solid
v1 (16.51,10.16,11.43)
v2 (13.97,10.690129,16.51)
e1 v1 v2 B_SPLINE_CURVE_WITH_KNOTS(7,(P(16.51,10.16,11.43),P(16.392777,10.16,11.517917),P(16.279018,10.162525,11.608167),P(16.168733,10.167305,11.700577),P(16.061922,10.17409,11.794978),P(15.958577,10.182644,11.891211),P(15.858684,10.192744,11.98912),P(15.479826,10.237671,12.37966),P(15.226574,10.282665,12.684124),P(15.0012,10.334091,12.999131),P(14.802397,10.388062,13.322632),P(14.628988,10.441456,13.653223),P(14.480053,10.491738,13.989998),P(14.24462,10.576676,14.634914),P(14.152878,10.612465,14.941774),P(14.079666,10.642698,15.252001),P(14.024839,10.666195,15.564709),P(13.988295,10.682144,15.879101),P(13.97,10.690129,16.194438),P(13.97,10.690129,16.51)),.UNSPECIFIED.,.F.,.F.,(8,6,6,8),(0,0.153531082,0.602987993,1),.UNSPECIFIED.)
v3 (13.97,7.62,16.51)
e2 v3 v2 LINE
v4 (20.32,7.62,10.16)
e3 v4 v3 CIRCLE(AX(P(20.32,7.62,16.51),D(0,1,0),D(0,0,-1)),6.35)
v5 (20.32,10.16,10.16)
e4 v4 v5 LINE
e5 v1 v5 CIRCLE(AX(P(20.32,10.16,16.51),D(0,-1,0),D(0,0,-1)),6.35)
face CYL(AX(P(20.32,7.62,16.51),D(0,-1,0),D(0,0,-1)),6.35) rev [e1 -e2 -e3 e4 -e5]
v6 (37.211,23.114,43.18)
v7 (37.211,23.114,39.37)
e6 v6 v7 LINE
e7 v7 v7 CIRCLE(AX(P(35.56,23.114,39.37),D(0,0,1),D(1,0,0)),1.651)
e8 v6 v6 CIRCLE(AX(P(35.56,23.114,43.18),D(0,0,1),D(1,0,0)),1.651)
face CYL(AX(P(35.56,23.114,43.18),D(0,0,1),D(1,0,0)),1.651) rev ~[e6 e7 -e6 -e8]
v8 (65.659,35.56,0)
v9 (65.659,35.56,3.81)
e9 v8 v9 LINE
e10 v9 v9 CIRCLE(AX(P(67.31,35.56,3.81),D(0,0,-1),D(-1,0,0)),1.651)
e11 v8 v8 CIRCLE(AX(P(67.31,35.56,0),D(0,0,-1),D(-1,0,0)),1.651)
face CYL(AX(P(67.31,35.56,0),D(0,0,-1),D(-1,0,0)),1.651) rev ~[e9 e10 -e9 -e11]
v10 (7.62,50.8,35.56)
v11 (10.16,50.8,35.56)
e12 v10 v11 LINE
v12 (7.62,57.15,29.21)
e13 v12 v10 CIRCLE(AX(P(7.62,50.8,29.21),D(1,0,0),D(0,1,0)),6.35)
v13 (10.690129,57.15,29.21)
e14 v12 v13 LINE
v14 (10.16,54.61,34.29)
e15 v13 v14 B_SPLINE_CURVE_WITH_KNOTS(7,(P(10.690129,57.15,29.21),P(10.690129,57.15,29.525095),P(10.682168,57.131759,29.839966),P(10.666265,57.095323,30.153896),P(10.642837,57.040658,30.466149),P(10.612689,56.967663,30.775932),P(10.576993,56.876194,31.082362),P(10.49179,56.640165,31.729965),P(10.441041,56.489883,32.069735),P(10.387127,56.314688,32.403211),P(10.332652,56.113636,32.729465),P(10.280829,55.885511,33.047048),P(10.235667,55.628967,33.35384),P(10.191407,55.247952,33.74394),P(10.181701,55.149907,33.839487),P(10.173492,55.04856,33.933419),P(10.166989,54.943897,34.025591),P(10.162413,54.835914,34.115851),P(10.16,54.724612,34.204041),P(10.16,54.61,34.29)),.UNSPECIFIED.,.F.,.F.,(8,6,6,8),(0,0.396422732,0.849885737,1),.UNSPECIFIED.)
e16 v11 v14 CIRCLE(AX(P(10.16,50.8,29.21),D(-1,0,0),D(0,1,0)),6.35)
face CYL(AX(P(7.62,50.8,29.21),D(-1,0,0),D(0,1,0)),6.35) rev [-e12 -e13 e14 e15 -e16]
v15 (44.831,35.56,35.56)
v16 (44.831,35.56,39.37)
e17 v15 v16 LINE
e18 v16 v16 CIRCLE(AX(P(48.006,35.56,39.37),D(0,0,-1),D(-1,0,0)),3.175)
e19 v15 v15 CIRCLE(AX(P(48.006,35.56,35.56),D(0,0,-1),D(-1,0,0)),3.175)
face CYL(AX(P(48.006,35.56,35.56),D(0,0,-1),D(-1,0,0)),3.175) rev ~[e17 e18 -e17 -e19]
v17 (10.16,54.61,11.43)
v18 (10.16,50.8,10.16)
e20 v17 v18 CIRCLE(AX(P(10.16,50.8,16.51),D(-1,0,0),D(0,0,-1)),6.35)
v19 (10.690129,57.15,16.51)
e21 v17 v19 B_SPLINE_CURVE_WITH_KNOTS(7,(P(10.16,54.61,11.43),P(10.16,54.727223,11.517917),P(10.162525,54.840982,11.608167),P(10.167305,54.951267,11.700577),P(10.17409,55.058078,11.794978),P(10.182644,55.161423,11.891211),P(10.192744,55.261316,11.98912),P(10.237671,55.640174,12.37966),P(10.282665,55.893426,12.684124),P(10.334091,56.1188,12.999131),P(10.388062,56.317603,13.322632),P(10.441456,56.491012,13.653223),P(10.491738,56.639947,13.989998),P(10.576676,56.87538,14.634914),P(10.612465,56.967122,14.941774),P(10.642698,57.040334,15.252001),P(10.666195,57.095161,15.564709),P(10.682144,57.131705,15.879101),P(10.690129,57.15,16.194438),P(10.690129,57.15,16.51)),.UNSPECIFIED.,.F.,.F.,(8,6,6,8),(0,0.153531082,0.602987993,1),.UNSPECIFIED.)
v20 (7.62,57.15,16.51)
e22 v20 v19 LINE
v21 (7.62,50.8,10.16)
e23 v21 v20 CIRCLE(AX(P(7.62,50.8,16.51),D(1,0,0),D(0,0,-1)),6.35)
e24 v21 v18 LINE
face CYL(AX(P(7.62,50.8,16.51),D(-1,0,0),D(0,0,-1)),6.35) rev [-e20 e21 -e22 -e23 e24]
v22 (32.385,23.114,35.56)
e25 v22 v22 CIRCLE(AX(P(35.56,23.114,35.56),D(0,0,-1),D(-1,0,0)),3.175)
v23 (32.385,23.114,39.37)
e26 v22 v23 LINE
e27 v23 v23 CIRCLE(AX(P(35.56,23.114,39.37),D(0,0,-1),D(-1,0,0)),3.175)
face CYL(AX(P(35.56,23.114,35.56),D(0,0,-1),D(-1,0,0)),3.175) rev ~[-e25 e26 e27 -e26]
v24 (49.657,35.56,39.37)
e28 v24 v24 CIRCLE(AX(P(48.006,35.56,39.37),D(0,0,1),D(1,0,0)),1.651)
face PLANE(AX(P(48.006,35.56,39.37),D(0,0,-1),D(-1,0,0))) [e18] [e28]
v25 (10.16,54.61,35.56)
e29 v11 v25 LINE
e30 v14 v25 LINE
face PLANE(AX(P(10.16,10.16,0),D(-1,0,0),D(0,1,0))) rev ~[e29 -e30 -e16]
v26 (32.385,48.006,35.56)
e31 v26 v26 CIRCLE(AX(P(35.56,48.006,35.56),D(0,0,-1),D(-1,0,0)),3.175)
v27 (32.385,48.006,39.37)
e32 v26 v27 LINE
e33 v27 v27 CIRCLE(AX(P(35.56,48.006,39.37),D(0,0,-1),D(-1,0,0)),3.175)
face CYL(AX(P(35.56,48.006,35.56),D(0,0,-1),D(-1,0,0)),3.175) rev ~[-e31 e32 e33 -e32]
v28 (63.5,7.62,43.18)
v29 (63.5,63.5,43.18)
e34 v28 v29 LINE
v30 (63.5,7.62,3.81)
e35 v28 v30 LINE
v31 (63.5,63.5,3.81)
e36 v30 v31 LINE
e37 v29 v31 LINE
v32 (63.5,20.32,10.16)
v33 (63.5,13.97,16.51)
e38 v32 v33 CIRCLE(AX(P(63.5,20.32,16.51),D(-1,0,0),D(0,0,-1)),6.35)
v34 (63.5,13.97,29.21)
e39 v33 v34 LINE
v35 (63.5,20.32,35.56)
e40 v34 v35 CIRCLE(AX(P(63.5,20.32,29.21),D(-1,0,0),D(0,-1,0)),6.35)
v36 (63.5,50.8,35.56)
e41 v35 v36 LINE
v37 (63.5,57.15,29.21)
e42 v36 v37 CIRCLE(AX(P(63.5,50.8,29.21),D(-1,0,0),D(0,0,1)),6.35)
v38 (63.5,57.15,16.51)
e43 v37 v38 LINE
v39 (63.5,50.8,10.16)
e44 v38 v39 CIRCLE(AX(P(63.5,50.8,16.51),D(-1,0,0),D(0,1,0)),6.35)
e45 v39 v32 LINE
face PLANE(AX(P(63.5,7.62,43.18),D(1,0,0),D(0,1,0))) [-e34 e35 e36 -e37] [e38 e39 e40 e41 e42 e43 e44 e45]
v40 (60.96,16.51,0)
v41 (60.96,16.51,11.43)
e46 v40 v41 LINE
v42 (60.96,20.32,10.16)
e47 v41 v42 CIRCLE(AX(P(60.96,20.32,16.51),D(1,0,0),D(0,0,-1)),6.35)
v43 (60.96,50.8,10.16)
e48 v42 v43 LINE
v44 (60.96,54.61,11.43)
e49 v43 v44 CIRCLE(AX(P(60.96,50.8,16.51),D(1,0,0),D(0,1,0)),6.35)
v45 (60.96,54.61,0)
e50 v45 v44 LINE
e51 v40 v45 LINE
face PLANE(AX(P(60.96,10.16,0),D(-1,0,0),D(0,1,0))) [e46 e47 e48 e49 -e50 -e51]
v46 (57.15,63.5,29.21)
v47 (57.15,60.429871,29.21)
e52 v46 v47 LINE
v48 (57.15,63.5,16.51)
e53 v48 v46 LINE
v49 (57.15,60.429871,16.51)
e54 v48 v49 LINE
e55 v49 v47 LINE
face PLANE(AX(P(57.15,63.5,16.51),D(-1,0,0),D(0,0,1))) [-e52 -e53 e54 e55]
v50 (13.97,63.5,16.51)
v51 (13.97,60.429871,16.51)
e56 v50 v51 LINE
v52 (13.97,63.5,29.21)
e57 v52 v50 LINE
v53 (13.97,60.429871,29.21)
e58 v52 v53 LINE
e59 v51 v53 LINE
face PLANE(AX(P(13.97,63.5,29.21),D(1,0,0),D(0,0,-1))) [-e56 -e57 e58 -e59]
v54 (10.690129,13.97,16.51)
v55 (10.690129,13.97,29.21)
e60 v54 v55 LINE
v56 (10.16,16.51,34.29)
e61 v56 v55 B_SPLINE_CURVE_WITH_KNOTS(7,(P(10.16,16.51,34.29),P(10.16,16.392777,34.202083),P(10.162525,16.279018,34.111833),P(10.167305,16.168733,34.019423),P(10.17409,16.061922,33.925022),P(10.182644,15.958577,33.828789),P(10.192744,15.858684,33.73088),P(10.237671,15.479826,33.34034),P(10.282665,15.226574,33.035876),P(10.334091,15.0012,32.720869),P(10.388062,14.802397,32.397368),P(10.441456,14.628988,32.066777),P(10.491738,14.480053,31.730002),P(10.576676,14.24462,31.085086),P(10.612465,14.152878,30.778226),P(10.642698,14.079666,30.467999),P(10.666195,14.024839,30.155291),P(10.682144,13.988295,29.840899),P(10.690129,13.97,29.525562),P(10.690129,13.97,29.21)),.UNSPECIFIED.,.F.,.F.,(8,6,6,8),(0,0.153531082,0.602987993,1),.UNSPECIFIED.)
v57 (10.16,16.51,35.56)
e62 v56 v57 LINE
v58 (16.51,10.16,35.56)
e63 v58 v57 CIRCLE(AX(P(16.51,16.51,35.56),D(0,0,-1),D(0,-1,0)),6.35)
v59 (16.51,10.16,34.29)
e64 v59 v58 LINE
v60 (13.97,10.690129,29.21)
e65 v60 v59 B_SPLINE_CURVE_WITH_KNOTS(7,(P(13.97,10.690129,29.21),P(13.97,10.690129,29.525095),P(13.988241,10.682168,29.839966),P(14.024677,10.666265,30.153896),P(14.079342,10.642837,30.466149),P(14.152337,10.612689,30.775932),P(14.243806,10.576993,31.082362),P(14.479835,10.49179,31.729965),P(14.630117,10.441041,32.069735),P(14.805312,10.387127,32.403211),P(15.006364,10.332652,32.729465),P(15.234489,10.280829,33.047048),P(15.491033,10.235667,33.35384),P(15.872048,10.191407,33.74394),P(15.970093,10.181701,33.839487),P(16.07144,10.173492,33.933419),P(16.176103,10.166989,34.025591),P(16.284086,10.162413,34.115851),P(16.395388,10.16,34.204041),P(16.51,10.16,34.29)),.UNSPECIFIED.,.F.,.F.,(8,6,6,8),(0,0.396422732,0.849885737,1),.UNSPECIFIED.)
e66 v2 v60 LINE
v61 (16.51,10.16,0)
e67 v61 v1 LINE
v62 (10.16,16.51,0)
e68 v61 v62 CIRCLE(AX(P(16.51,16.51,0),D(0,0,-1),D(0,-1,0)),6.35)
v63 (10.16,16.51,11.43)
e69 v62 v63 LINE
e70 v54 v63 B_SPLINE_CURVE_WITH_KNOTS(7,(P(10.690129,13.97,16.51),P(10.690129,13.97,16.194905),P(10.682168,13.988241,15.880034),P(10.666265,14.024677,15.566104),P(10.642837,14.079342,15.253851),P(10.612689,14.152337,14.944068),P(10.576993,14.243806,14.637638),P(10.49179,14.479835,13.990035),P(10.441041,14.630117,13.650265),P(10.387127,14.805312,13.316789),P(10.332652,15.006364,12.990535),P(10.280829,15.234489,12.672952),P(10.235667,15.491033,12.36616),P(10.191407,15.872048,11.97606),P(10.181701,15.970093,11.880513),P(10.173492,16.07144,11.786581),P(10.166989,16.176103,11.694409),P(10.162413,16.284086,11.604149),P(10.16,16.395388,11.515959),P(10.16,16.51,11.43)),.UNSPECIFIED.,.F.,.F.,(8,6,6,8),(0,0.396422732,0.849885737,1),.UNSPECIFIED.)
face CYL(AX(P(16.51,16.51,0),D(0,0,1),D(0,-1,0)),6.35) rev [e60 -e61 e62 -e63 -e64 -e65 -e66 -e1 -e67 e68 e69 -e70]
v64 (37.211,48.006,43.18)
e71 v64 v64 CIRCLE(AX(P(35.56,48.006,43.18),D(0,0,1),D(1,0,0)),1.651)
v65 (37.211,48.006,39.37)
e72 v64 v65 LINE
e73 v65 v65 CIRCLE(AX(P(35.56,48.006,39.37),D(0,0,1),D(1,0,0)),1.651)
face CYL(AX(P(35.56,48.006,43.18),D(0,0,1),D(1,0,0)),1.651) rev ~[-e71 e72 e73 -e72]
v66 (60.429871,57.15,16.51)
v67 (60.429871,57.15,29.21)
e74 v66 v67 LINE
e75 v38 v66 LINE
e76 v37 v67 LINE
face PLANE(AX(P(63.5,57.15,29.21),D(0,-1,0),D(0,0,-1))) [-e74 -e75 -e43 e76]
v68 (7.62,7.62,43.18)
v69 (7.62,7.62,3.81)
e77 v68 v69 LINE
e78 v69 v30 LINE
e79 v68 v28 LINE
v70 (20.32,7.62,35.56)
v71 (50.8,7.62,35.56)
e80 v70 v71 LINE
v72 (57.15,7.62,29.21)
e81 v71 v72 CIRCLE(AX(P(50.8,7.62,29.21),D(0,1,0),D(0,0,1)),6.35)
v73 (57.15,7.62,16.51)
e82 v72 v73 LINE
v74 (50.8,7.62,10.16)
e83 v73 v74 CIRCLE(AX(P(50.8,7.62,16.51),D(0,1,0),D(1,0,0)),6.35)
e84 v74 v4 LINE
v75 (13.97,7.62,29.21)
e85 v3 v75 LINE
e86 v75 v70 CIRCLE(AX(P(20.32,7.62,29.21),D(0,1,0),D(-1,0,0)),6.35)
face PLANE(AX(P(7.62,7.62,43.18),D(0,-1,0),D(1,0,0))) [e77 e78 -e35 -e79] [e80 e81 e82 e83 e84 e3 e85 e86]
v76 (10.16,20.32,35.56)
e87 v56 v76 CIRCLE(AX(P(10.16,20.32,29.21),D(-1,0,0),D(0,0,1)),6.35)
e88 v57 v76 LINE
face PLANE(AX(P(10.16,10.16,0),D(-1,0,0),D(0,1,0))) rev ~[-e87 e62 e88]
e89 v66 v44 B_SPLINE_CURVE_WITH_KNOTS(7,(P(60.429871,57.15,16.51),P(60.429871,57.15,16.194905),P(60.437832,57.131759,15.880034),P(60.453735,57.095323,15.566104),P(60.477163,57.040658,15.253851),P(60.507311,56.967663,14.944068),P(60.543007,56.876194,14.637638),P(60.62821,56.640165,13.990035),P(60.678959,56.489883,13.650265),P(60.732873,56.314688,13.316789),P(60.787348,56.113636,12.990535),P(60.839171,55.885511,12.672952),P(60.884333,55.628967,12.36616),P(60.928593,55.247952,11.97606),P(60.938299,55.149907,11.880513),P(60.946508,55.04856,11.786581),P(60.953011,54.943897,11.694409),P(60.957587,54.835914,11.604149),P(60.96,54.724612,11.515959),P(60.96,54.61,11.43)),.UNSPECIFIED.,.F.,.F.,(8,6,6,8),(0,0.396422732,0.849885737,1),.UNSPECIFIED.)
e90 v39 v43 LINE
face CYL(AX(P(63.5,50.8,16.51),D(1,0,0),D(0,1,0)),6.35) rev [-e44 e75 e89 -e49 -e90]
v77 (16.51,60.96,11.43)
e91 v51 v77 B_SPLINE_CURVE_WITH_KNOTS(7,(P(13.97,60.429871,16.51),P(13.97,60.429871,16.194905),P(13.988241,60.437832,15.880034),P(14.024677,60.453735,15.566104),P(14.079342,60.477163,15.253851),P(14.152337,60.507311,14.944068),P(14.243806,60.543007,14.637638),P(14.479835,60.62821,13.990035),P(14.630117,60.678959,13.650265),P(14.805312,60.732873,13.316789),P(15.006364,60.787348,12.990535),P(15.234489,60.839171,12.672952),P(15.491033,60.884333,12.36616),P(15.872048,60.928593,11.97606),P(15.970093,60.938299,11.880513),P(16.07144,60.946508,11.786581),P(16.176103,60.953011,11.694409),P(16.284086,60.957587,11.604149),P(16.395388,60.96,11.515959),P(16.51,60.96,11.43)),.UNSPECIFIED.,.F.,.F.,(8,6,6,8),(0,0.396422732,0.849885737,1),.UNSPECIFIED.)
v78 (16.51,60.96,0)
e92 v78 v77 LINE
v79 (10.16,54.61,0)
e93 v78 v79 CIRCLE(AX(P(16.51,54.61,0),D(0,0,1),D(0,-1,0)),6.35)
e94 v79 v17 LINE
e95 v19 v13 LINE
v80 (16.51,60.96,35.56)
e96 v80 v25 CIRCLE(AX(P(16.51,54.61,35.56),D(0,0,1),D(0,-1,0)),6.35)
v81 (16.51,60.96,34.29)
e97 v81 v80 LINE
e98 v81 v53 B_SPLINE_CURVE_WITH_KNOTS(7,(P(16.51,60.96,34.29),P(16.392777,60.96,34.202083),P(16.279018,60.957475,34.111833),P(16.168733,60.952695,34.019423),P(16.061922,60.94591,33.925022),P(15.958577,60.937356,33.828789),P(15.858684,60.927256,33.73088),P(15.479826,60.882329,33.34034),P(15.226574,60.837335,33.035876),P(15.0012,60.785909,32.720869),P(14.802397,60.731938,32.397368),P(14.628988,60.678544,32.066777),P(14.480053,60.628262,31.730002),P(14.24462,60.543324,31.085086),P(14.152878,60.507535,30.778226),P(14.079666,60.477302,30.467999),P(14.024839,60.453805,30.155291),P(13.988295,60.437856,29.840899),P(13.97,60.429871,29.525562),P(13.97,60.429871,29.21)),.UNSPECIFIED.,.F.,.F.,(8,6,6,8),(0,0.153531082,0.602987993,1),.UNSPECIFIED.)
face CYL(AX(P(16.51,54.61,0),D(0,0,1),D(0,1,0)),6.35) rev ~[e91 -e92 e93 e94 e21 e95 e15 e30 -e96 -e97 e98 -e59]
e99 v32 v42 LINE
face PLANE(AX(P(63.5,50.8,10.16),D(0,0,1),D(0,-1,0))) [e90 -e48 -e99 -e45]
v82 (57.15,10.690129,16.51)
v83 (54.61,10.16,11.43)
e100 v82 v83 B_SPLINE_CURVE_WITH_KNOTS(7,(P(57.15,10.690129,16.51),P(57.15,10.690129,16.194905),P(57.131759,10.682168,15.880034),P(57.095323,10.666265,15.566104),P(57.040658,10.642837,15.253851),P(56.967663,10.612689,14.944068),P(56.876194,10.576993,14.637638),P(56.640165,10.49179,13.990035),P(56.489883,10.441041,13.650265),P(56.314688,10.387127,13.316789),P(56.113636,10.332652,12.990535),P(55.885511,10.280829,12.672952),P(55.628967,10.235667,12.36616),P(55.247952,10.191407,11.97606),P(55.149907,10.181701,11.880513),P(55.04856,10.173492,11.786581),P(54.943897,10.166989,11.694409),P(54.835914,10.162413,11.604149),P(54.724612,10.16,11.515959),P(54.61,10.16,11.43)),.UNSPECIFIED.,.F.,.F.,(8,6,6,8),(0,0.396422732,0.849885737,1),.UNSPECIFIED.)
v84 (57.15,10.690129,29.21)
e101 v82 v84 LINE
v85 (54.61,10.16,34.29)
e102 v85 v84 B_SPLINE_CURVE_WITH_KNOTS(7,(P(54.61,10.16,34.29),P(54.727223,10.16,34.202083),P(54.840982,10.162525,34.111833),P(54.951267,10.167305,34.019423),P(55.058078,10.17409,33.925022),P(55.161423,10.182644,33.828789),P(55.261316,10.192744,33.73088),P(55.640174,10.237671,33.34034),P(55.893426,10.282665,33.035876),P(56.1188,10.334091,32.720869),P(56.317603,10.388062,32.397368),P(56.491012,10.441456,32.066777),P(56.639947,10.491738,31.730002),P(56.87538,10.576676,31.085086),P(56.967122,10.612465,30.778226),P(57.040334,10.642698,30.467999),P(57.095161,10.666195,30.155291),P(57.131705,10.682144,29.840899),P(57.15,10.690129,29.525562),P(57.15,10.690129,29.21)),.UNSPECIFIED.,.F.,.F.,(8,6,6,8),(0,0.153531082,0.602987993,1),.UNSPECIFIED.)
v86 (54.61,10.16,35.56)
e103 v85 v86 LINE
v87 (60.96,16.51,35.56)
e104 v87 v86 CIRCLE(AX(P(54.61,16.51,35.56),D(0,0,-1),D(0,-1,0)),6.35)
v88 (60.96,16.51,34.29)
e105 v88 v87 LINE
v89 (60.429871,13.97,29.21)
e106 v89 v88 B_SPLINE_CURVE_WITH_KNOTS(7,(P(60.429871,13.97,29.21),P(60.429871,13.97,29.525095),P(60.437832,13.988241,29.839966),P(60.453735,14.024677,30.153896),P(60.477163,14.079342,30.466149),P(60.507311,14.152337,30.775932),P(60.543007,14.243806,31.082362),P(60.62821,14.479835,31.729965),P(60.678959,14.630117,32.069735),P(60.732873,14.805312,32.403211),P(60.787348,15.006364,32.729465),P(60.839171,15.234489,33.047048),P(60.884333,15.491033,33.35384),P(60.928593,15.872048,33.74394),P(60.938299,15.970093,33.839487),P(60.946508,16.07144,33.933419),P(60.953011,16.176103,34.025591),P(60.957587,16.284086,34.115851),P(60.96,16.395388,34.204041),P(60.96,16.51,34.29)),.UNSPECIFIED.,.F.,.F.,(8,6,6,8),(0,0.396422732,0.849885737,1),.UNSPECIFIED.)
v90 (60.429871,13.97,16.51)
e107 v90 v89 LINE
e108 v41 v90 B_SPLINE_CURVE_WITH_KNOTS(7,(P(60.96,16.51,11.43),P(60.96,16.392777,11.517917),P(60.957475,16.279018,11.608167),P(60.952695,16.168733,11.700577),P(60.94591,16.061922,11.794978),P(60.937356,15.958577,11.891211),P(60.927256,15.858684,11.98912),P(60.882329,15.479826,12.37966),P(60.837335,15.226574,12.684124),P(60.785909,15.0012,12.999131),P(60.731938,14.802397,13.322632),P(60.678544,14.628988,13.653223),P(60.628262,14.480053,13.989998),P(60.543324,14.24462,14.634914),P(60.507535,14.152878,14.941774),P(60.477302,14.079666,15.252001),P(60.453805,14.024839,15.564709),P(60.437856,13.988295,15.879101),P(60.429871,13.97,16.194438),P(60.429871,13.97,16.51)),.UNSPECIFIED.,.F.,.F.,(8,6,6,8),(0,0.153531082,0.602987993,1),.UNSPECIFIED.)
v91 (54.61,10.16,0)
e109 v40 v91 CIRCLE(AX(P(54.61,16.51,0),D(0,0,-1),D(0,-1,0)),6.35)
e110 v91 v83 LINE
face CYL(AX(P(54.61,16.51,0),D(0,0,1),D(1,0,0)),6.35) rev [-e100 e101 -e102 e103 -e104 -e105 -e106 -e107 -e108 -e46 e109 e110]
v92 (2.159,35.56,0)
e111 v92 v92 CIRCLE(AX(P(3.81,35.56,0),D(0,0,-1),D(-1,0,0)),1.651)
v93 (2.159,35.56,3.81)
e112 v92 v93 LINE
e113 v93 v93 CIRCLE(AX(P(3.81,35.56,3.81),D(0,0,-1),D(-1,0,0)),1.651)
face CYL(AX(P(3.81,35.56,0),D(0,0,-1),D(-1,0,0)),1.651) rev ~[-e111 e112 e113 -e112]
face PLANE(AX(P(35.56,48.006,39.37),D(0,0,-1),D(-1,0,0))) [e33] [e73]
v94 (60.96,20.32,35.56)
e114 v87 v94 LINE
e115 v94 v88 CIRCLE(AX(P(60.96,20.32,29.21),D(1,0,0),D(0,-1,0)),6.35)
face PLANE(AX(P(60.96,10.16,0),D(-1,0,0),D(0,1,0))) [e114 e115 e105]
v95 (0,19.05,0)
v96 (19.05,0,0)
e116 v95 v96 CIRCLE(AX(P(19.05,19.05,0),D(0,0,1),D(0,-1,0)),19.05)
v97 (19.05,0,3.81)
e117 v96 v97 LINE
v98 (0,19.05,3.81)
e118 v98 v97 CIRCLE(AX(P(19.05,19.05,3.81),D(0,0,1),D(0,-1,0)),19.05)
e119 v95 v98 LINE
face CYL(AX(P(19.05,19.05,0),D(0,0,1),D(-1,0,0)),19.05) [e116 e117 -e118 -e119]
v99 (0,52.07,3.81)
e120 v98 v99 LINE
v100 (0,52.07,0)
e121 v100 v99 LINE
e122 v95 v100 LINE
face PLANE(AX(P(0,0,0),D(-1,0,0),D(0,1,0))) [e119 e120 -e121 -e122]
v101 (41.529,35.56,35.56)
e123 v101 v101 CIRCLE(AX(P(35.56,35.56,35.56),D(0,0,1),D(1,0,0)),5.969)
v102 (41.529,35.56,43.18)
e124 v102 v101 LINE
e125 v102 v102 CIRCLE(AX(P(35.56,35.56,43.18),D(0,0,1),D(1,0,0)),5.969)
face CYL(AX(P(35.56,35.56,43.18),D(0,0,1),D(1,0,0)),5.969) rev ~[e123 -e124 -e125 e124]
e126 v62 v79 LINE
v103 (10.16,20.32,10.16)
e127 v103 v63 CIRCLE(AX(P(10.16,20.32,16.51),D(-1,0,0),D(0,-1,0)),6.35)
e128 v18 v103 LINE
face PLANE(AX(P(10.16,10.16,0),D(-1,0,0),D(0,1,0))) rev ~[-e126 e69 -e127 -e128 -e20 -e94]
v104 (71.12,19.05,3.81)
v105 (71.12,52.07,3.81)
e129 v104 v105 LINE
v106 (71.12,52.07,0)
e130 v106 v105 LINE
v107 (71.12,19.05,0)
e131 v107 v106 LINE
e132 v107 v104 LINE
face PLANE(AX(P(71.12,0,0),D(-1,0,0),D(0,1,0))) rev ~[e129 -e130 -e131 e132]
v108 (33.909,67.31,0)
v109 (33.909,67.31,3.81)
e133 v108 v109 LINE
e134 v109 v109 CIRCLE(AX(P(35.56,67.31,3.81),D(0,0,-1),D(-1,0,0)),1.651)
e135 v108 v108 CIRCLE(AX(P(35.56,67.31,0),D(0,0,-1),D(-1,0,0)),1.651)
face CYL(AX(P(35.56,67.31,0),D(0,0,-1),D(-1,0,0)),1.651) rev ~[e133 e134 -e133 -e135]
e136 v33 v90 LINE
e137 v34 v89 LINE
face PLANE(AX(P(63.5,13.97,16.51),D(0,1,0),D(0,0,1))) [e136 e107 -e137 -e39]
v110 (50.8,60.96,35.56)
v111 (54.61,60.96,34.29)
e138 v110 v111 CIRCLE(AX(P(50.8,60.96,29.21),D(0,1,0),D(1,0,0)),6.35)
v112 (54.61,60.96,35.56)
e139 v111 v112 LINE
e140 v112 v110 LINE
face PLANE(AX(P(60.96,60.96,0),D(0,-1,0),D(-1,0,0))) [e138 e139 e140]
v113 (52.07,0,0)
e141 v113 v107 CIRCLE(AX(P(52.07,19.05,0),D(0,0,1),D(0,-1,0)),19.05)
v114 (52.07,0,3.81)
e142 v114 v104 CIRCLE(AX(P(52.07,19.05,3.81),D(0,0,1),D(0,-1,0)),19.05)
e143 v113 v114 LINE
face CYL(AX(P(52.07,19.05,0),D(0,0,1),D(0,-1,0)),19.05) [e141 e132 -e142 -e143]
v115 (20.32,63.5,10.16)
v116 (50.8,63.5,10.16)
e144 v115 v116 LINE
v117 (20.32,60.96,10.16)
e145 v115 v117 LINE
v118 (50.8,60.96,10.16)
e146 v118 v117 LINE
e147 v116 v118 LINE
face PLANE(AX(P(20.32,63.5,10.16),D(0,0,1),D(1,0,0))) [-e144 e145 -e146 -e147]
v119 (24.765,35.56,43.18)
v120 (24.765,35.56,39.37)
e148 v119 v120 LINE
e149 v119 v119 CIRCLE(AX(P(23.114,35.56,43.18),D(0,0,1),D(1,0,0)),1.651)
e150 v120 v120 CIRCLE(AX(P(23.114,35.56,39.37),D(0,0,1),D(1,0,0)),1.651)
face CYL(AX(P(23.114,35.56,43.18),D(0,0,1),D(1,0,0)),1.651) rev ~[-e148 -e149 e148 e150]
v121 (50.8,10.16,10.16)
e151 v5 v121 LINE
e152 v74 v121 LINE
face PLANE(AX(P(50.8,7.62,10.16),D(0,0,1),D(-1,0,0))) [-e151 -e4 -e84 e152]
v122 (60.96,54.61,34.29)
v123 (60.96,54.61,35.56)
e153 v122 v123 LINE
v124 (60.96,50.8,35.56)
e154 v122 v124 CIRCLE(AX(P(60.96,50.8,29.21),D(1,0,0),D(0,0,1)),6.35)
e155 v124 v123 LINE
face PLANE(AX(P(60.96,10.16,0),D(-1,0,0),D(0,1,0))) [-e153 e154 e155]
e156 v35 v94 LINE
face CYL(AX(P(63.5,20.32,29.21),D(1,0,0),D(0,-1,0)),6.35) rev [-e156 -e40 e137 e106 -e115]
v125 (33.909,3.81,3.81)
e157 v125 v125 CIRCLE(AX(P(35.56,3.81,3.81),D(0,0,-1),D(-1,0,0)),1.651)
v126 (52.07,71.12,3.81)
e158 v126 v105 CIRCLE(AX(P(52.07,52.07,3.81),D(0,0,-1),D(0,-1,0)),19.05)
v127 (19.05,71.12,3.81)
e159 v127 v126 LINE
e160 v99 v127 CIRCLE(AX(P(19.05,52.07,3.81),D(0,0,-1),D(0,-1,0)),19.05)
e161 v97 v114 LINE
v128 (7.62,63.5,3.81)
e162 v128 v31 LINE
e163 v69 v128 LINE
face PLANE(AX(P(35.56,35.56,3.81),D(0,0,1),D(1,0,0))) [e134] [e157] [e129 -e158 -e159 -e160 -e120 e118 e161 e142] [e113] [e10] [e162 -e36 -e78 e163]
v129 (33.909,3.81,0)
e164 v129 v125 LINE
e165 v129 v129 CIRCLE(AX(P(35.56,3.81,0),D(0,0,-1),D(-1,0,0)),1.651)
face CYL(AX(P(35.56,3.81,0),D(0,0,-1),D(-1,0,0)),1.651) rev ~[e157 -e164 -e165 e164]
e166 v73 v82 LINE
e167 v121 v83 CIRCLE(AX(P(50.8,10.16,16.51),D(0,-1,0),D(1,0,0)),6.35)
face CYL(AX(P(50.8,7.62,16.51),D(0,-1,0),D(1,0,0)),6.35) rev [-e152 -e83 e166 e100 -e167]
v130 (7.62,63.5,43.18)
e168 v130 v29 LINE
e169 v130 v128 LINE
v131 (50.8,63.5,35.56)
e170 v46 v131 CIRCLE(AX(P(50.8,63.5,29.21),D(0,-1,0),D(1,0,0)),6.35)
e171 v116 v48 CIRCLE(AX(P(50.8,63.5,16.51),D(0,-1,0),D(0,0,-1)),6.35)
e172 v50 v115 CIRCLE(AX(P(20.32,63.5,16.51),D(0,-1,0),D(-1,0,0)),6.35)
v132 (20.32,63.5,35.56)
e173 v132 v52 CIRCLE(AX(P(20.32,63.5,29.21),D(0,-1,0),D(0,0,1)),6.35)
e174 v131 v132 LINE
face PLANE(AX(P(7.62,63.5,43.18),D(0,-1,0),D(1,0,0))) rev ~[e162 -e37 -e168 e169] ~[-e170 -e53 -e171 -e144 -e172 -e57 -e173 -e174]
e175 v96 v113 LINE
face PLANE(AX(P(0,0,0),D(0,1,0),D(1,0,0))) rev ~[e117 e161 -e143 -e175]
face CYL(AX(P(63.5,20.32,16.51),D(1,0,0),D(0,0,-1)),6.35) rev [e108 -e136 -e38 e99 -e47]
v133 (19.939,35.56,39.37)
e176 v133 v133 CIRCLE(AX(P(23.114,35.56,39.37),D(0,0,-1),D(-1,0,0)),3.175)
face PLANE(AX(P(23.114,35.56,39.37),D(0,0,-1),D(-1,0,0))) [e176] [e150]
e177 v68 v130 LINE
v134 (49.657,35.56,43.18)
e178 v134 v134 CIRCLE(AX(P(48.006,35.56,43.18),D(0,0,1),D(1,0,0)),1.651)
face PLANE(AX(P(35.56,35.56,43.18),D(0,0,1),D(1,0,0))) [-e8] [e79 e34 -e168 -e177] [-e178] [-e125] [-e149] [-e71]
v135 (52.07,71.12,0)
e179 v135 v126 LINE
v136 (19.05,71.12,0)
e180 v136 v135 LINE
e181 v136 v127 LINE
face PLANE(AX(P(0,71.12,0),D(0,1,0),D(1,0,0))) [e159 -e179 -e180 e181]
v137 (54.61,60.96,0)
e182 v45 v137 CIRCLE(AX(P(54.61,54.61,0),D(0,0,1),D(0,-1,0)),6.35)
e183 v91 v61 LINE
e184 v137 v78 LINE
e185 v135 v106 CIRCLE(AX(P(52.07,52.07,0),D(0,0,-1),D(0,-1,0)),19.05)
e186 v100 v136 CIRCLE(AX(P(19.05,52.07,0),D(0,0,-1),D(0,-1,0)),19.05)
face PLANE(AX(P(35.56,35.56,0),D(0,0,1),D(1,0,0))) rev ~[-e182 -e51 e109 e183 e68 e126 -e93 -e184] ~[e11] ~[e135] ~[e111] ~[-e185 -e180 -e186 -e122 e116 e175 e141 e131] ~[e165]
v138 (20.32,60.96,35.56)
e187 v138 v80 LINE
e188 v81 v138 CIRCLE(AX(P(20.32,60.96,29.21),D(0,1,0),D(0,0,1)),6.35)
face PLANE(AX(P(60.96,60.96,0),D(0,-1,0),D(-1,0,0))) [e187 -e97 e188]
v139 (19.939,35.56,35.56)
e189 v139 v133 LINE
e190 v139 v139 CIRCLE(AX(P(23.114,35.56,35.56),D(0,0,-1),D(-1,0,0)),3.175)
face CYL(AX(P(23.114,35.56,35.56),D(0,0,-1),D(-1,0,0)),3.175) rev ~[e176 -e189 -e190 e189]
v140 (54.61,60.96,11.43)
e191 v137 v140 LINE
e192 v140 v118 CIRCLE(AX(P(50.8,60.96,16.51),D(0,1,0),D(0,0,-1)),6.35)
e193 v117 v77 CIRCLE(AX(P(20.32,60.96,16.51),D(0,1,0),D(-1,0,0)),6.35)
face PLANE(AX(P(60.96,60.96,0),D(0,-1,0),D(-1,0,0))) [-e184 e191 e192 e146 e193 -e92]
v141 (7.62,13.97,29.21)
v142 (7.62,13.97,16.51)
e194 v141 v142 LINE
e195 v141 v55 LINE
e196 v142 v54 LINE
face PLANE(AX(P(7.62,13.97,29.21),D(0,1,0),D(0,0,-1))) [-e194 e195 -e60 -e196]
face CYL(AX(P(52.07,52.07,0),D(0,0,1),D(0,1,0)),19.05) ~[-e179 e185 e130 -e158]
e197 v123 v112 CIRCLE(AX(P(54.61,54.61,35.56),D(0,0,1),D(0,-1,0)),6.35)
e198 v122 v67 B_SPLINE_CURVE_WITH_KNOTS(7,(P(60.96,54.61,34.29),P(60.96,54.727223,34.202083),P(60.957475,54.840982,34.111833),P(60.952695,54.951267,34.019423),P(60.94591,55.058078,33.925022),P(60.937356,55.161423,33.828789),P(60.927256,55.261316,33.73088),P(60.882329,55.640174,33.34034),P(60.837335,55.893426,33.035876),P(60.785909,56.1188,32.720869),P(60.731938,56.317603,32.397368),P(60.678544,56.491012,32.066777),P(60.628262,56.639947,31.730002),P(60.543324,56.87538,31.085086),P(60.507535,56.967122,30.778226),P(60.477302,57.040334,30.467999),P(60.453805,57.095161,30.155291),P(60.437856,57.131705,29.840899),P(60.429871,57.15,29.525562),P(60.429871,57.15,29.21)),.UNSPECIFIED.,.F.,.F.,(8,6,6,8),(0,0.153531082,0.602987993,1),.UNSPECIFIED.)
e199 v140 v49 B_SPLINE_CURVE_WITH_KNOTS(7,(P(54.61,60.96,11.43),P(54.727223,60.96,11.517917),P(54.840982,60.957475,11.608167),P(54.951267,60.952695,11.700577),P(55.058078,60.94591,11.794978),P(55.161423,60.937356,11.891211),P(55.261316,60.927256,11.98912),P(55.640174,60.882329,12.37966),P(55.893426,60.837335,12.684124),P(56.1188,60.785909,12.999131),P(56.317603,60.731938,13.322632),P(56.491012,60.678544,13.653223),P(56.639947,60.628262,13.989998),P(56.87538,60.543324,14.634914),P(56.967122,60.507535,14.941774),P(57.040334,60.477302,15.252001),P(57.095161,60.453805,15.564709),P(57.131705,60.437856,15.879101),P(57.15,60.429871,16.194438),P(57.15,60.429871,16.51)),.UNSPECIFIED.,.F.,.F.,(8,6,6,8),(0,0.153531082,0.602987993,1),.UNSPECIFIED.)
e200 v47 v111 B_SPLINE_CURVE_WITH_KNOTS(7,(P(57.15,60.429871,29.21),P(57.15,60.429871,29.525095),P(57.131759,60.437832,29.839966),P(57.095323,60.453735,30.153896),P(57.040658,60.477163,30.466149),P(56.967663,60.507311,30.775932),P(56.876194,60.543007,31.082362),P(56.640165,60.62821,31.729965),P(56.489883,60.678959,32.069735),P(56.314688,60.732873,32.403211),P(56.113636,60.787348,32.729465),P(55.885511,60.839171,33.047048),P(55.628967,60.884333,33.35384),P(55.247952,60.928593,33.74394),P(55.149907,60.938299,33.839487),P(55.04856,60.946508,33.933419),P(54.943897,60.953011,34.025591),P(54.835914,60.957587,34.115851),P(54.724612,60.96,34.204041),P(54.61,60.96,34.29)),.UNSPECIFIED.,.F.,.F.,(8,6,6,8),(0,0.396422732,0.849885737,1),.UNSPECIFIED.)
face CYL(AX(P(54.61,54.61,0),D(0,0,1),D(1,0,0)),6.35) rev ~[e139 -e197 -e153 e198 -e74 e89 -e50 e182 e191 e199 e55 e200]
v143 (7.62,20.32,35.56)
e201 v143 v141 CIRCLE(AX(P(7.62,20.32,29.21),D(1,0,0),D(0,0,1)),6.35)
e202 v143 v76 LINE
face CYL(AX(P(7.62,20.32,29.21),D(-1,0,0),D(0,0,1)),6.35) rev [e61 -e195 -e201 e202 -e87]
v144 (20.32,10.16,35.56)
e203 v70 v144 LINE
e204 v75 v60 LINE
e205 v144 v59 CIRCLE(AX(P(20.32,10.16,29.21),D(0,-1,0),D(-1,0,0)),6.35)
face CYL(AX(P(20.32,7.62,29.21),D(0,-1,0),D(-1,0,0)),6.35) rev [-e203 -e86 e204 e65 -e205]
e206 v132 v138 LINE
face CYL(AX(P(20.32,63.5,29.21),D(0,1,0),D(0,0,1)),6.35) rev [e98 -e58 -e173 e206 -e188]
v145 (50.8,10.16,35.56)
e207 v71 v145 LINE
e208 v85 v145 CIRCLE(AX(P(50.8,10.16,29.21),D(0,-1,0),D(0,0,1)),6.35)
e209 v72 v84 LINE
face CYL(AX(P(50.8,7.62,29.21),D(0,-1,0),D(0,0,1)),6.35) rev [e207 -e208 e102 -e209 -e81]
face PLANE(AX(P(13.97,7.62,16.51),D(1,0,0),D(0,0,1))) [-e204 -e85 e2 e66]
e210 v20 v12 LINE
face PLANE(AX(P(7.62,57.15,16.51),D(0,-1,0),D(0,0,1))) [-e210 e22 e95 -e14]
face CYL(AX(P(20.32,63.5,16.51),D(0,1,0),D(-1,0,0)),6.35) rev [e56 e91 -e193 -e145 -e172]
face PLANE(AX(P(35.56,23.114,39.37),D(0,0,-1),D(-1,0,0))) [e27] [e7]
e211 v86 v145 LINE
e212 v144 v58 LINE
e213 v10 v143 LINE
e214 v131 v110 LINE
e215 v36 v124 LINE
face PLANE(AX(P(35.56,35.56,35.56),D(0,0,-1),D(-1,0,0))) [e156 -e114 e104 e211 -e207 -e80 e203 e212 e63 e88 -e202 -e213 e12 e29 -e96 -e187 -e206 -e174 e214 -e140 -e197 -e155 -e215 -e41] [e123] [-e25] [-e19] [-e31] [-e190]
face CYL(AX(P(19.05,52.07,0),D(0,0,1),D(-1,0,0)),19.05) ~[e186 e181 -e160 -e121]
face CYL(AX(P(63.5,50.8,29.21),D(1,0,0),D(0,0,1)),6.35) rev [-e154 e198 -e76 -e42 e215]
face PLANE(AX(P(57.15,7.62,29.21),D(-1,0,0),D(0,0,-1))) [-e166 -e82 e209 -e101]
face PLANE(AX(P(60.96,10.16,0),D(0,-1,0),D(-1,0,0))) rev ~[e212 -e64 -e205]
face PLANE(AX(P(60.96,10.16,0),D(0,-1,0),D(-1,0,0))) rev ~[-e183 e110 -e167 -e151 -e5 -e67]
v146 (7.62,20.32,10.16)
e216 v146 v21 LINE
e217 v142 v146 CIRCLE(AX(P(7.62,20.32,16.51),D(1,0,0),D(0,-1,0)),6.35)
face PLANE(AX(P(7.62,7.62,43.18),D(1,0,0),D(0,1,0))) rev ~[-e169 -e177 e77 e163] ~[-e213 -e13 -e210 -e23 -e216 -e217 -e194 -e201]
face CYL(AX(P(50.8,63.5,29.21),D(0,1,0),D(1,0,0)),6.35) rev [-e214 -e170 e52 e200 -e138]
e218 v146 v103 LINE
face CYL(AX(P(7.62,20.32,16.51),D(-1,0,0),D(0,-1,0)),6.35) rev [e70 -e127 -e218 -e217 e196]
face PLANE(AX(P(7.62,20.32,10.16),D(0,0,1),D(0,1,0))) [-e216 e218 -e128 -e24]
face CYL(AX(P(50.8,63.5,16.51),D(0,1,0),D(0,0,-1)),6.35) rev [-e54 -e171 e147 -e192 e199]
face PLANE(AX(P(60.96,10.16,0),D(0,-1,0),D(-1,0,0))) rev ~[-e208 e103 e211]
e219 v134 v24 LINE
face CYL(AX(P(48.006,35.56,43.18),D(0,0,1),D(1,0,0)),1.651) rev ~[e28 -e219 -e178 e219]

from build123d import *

# Parameters (mm, degrees)
SKETCH1_W           = 71.12
SKETCH1_H           = 71.12
BOSS_EXTRUDE1_DEPTH = 43.18
SKETCH2_W           = 71.12
SKETCH2_H           = 71.12
SKETCH2_W_2         = 55.88
SKETCH2_H_2         = 55.88
CUT_EXTRUDE1_DEPTH  = 39.37
SKETCH4_W           = 50.8
SKETCH4_H           = 50.8
CUT_EXTRUDE2_DEPTH  = 35.56
CUT_EXTRUDE3_REACH  = 111.456
SKETCH5_R           = 1.651
SKETCH5_R_2         = 5.969
CUT_EXTRUDE4_REACH  = 111.456
SKETCH6_R           = 1.651
FILLET1_R           = 6.35
CUT_EXTRUDE5_REACH  = 106.665
CIRPATTERN1_COUNT   = 4
FILLET3_R           = 19.05
SKETCH8_R           = 3.175
CUT_EXTRUDE6_DEPTH  = 3.81


with BuildPart() as part:
    # Sketch1 → Boss-Extrude1 (new body)
    with BuildSketch(Plane.XY):
        with Locations((35.56, 35.56)):
            Rectangle(SKETCH1_W, SKETCH1_H)
    extrude(amount=BOSS_EXTRUDE1_DEPTH)

    # Sketch2 → Cut-Extrude1 (cut)
    with BuildSketch(Plane.XY.offset(43.18)):
        with Locations((35.56, 35.56)):
            Rectangle(SKETCH2_W, SKETCH2_H)
        with Locations((35.56, 35.56)):
            Rectangle(SKETCH2_W_2, SKETCH2_H_2, mode=Mode.SUBTRACT)
    extrude(amount=-CUT_EXTRUDE1_DEPTH, mode=Mode.SUBTRACT)

    # Sketch4 → Cut-Extrude2 (cut)
    with BuildSketch(Plane(origin=(0, 0, 0), x_dir=(-1, 0, 0), z_dir=(0, 0, -1))):
        with Locations((-35.56, 35.56)):
            Rectangle(SKETCH4_W, SKETCH4_H)
    extrude(amount=-CUT_EXTRUDE2_DEPTH, mode=Mode.SUBTRACT)

    # Sketch5 → Cut-Extrude3 (cut, up to next)
    with BuildSketch(Plane.XY.offset(43.18), mode=Mode.PRIVATE) as cut_extrude3_sk1:
        with Locations((35.56, 48.006)):
            Circle(SKETCH5_R)
    cut_extrude3_tool1 = extrude(cut_extrude3_sk1.sketch, amount=-CUT_EXTRUDE3_REACH, mode=Mode.PRIVATE) & part.part
    # Sketch5 → Cut-Extrude3 (cut, up to next)
    with BuildSketch(Plane.XY.offset(43.18), mode=Mode.PRIVATE) as cut_extrude3_sk2:
        with Locations((48.006, 35.56)):
            Circle(SKETCH5_R)
    cut_extrude3_tool2 = extrude(cut_extrude3_sk2.sketch, amount=-CUT_EXTRUDE3_REACH, mode=Mode.PRIVATE) & part.part
    # Sketch5 → Cut-Extrude3 (cut, up to next)
    with BuildSketch(Plane.XY.offset(43.18), mode=Mode.PRIVATE) as cut_extrude3_sk3:
        with Locations((35.56, 23.114)):
            Circle(SKETCH5_R)
    cut_extrude3_tool3 = extrude(cut_extrude3_sk3.sketch, amount=-CUT_EXTRUDE3_REACH, mode=Mode.PRIVATE) & part.part
    # Sketch5 → Cut-Extrude3 (cut, up to next)
    with BuildSketch(Plane.XY.offset(43.18), mode=Mode.PRIVATE) as cut_extrude3_sk4:
        with Locations((23.114, 35.56)):
            Circle(SKETCH5_R)
    cut_extrude3_tool4 = extrude(cut_extrude3_sk4.sketch, amount=-CUT_EXTRUDE3_REACH, mode=Mode.PRIVATE) & part.part
    # Sketch5 → Cut-Extrude3 (cut, up to next)
    with BuildSketch(Plane.XY.offset(43.18), mode=Mode.PRIVATE) as cut_extrude3_sk5:
        with Locations((35.56, 35.56)):
            Circle(SKETCH5_R_2)
    cut_extrude3_tool5 = extrude(cut_extrude3_sk5.sketch, amount=-CUT_EXTRUDE3_REACH, mode=Mode.PRIVATE) & part.part
    add(cut_extrude3_tool1.solids().sort_by_distance((35.56, 48.006, 43.18))[0], mode=Mode.SUBTRACT)
    add(cut_extrude3_tool2.solids().sort_by_distance((48.006, 35.56, 43.18))[0], mode=Mode.SUBTRACT)
    add(cut_extrude3_tool3.solids().sort_by_distance((35.56, 23.114, 43.18))[0], mode=Mode.SUBTRACT)
    add(cut_extrude3_tool4.solids().sort_by_distance((23.114, 35.56, 43.18))[0], mode=Mode.SUBTRACT)
    add(cut_extrude3_tool5.solids().sort_by_distance((35.56, 35.56, 43.18))[0], mode=Mode.SUBTRACT)

    # Sketch6 → Cut-Extrude4 (cut, up to next)
    with BuildSketch(Plane(origin=(0, 0, 0), x_dir=(-1, 0, 0), z_dir=(0, 0, -1)), mode=Mode.PRIVATE) as cut_extrude4_sk1:
        with Locations((-35.56, 67.31)):
            Circle(SKETCH6_R)
    cut_extrude4_tool1 = extrude(cut_extrude4_sk1.sketch, amount=-CUT_EXTRUDE4_REACH, mode=Mode.PRIVATE) & part.part
    # Sketch6 → Cut-Extrude4 (cut, up to next)
    with BuildSketch(Plane(origin=(0, 0, 0), x_dir=(-1, 0, 0), z_dir=(0, 0, -1)), mode=Mode.PRIVATE) as cut_extrude4_sk2:
        with Locations((-3.81, 35.56)):
            Circle(SKETCH6_R)
    cut_extrude4_tool2 = extrude(cut_extrude4_sk2.sketch, amount=-CUT_EXTRUDE4_REACH, mode=Mode.PRIVATE) & part.part
    # Sketch6 → Cut-Extrude4 (cut, up to next)
    with BuildSketch(Plane(origin=(0, 0, 0), x_dir=(-1, 0, 0), z_dir=(0, 0, -1)), mode=Mode.PRIVATE) as cut_extrude4_sk3:
        with Locations((-35.56, 3.81)):
            Circle(SKETCH6_R)
    cut_extrude4_tool3 = extrude(cut_extrude4_sk3.sketch, amount=-CUT_EXTRUDE4_REACH, mode=Mode.PRIVATE) & part.part
    # Sketch6 → Cut-Extrude4 (cut, up to next)
    with BuildSketch(Plane(origin=(0, 0, 0), x_dir=(-1, 0, 0), z_dir=(0, 0, -1)), mode=Mode.PRIVATE) as cut_extrude4_sk4:
        with Locations((-67.31, 35.56)):
            Circle(SKETCH6_R)
    cut_extrude4_tool4 = extrude(cut_extrude4_sk4.sketch, amount=-CUT_EXTRUDE4_REACH, mode=Mode.PRIVATE) & part.part
    add(cut_extrude4_tool1.solids().sort_by_distance((35.56, 67.31, 0))[0], mode=Mode.SUBTRACT)
    add(cut_extrude4_tool2.solids().sort_by_distance((3.81, 35.56, 0))[0], mode=Mode.SUBTRACT)
    add(cut_extrude4_tool3.solids().sort_by_distance((35.56, 3.81, 0))[0], mode=Mode.SUBTRACT)
    add(cut_extrude4_tool4.solids().sort_by_distance((67.31, 35.56, 0))[0], mode=Mode.SUBTRACT)

    # Fillet1
    fillet1_edges = [part.edges().sort_by_distance(p)[0] for p in [
        (60.96, 10.16, 17.78),
        (60.96, 60.96, 17.78),
        (10.16, 60.96, 17.78),
        (10.16, 10.16, 17.78),
    ]]
    fillet(fillet1_edges, radius=FILLET1_R)

    # Sketch7 → Cut-Extrude5 (cut, up to next)
    with BuildSketch(Plane.ZY.offset(-7.62), mode=Mode.PRIVATE) as cut_extrude5_sk1:
        with BuildLine():
            Line((10.16, 20.32), (10.16, 50.8))
            ThreePointArc((10.16, 50.8), (12.019871939, 55.290128061), (16.51, 57.15))
            Line((16.51, 57.15), (29.21, 57.15))
            ThreePointArc((29.21, 57.15), (33.700128061, 55.290128061), (35.56, 50.8))
            Line((35.56, 50.8), (35.56, 20.32))
            ThreePointArc((35.56, 20.32), (33.700128061, 15.829871939), (29.21, 13.97))
            Line((29.21, 13.97), (16.51, 13.97))
            ThreePointArc((16.51, 13.97), (12.019871939, 15.829871939), (10.16, 20.32))
        make_face()
    cut_extrude5_tool1 = extrude(cut_extrude5_sk1.sketch, amount=-CUT_EXTRUDE5_REACH, mode=Mode.PRIVATE) & part.part
    cut_extrude5 = cut_extrude5_tool1.solids().sort_by_distance((7.62, 35.56, 22.86))[0]
    add(cut_extrude5, mode=Mode.SUBTRACT)

    # CirPattern1: Cut-Extrude5 ×4 about axis
    cirpattern1_axis = Axis((35.56, 35.56, 0), (0, 0, 1))
    for i in range(1, CIRPATTERN1_COUNT):
        add(cut_extrude5.rotate(cirpattern1_axis, i * 360 / CIRPATTERN1_COUNT), mode=Mode.SUBTRACT)

    # Fillet3
    fillet3_edges = [part.edges().sort_by_distance(p)[0] for p in [
        (0, 0, 1.905),
        (0, 71.12, 1.905),
        (71.12, 71.12, 1.905),
        (71.12, 0, 1.905),
    ]]
    fillet(fillet3_edges, radius=FILLET3_R)

    # Sketch8 → Cut-Extrude6 (cut)
    with BuildSketch(Plane(origin=(0, 0, 35.56), x_dir=(-1, 0, 0), z_dir=(0, 0, -1))):
        with Locations((-35.56, 48.006)):
            Circle(SKETCH8_R)
        with Locations((-23.114, 35.56)):
            Circle(SKETCH8_R)
        with Locations((-35.56, 23.114)):
            Circle(SKETCH8_R)
        with Locations((-48.006, 35.56)):
            Circle(SKETCH8_R)
    extrude(amount=-CUT_EXTRUDE6_DEPTH, mode=Mode.SUBTRACT)


solid = part.part
